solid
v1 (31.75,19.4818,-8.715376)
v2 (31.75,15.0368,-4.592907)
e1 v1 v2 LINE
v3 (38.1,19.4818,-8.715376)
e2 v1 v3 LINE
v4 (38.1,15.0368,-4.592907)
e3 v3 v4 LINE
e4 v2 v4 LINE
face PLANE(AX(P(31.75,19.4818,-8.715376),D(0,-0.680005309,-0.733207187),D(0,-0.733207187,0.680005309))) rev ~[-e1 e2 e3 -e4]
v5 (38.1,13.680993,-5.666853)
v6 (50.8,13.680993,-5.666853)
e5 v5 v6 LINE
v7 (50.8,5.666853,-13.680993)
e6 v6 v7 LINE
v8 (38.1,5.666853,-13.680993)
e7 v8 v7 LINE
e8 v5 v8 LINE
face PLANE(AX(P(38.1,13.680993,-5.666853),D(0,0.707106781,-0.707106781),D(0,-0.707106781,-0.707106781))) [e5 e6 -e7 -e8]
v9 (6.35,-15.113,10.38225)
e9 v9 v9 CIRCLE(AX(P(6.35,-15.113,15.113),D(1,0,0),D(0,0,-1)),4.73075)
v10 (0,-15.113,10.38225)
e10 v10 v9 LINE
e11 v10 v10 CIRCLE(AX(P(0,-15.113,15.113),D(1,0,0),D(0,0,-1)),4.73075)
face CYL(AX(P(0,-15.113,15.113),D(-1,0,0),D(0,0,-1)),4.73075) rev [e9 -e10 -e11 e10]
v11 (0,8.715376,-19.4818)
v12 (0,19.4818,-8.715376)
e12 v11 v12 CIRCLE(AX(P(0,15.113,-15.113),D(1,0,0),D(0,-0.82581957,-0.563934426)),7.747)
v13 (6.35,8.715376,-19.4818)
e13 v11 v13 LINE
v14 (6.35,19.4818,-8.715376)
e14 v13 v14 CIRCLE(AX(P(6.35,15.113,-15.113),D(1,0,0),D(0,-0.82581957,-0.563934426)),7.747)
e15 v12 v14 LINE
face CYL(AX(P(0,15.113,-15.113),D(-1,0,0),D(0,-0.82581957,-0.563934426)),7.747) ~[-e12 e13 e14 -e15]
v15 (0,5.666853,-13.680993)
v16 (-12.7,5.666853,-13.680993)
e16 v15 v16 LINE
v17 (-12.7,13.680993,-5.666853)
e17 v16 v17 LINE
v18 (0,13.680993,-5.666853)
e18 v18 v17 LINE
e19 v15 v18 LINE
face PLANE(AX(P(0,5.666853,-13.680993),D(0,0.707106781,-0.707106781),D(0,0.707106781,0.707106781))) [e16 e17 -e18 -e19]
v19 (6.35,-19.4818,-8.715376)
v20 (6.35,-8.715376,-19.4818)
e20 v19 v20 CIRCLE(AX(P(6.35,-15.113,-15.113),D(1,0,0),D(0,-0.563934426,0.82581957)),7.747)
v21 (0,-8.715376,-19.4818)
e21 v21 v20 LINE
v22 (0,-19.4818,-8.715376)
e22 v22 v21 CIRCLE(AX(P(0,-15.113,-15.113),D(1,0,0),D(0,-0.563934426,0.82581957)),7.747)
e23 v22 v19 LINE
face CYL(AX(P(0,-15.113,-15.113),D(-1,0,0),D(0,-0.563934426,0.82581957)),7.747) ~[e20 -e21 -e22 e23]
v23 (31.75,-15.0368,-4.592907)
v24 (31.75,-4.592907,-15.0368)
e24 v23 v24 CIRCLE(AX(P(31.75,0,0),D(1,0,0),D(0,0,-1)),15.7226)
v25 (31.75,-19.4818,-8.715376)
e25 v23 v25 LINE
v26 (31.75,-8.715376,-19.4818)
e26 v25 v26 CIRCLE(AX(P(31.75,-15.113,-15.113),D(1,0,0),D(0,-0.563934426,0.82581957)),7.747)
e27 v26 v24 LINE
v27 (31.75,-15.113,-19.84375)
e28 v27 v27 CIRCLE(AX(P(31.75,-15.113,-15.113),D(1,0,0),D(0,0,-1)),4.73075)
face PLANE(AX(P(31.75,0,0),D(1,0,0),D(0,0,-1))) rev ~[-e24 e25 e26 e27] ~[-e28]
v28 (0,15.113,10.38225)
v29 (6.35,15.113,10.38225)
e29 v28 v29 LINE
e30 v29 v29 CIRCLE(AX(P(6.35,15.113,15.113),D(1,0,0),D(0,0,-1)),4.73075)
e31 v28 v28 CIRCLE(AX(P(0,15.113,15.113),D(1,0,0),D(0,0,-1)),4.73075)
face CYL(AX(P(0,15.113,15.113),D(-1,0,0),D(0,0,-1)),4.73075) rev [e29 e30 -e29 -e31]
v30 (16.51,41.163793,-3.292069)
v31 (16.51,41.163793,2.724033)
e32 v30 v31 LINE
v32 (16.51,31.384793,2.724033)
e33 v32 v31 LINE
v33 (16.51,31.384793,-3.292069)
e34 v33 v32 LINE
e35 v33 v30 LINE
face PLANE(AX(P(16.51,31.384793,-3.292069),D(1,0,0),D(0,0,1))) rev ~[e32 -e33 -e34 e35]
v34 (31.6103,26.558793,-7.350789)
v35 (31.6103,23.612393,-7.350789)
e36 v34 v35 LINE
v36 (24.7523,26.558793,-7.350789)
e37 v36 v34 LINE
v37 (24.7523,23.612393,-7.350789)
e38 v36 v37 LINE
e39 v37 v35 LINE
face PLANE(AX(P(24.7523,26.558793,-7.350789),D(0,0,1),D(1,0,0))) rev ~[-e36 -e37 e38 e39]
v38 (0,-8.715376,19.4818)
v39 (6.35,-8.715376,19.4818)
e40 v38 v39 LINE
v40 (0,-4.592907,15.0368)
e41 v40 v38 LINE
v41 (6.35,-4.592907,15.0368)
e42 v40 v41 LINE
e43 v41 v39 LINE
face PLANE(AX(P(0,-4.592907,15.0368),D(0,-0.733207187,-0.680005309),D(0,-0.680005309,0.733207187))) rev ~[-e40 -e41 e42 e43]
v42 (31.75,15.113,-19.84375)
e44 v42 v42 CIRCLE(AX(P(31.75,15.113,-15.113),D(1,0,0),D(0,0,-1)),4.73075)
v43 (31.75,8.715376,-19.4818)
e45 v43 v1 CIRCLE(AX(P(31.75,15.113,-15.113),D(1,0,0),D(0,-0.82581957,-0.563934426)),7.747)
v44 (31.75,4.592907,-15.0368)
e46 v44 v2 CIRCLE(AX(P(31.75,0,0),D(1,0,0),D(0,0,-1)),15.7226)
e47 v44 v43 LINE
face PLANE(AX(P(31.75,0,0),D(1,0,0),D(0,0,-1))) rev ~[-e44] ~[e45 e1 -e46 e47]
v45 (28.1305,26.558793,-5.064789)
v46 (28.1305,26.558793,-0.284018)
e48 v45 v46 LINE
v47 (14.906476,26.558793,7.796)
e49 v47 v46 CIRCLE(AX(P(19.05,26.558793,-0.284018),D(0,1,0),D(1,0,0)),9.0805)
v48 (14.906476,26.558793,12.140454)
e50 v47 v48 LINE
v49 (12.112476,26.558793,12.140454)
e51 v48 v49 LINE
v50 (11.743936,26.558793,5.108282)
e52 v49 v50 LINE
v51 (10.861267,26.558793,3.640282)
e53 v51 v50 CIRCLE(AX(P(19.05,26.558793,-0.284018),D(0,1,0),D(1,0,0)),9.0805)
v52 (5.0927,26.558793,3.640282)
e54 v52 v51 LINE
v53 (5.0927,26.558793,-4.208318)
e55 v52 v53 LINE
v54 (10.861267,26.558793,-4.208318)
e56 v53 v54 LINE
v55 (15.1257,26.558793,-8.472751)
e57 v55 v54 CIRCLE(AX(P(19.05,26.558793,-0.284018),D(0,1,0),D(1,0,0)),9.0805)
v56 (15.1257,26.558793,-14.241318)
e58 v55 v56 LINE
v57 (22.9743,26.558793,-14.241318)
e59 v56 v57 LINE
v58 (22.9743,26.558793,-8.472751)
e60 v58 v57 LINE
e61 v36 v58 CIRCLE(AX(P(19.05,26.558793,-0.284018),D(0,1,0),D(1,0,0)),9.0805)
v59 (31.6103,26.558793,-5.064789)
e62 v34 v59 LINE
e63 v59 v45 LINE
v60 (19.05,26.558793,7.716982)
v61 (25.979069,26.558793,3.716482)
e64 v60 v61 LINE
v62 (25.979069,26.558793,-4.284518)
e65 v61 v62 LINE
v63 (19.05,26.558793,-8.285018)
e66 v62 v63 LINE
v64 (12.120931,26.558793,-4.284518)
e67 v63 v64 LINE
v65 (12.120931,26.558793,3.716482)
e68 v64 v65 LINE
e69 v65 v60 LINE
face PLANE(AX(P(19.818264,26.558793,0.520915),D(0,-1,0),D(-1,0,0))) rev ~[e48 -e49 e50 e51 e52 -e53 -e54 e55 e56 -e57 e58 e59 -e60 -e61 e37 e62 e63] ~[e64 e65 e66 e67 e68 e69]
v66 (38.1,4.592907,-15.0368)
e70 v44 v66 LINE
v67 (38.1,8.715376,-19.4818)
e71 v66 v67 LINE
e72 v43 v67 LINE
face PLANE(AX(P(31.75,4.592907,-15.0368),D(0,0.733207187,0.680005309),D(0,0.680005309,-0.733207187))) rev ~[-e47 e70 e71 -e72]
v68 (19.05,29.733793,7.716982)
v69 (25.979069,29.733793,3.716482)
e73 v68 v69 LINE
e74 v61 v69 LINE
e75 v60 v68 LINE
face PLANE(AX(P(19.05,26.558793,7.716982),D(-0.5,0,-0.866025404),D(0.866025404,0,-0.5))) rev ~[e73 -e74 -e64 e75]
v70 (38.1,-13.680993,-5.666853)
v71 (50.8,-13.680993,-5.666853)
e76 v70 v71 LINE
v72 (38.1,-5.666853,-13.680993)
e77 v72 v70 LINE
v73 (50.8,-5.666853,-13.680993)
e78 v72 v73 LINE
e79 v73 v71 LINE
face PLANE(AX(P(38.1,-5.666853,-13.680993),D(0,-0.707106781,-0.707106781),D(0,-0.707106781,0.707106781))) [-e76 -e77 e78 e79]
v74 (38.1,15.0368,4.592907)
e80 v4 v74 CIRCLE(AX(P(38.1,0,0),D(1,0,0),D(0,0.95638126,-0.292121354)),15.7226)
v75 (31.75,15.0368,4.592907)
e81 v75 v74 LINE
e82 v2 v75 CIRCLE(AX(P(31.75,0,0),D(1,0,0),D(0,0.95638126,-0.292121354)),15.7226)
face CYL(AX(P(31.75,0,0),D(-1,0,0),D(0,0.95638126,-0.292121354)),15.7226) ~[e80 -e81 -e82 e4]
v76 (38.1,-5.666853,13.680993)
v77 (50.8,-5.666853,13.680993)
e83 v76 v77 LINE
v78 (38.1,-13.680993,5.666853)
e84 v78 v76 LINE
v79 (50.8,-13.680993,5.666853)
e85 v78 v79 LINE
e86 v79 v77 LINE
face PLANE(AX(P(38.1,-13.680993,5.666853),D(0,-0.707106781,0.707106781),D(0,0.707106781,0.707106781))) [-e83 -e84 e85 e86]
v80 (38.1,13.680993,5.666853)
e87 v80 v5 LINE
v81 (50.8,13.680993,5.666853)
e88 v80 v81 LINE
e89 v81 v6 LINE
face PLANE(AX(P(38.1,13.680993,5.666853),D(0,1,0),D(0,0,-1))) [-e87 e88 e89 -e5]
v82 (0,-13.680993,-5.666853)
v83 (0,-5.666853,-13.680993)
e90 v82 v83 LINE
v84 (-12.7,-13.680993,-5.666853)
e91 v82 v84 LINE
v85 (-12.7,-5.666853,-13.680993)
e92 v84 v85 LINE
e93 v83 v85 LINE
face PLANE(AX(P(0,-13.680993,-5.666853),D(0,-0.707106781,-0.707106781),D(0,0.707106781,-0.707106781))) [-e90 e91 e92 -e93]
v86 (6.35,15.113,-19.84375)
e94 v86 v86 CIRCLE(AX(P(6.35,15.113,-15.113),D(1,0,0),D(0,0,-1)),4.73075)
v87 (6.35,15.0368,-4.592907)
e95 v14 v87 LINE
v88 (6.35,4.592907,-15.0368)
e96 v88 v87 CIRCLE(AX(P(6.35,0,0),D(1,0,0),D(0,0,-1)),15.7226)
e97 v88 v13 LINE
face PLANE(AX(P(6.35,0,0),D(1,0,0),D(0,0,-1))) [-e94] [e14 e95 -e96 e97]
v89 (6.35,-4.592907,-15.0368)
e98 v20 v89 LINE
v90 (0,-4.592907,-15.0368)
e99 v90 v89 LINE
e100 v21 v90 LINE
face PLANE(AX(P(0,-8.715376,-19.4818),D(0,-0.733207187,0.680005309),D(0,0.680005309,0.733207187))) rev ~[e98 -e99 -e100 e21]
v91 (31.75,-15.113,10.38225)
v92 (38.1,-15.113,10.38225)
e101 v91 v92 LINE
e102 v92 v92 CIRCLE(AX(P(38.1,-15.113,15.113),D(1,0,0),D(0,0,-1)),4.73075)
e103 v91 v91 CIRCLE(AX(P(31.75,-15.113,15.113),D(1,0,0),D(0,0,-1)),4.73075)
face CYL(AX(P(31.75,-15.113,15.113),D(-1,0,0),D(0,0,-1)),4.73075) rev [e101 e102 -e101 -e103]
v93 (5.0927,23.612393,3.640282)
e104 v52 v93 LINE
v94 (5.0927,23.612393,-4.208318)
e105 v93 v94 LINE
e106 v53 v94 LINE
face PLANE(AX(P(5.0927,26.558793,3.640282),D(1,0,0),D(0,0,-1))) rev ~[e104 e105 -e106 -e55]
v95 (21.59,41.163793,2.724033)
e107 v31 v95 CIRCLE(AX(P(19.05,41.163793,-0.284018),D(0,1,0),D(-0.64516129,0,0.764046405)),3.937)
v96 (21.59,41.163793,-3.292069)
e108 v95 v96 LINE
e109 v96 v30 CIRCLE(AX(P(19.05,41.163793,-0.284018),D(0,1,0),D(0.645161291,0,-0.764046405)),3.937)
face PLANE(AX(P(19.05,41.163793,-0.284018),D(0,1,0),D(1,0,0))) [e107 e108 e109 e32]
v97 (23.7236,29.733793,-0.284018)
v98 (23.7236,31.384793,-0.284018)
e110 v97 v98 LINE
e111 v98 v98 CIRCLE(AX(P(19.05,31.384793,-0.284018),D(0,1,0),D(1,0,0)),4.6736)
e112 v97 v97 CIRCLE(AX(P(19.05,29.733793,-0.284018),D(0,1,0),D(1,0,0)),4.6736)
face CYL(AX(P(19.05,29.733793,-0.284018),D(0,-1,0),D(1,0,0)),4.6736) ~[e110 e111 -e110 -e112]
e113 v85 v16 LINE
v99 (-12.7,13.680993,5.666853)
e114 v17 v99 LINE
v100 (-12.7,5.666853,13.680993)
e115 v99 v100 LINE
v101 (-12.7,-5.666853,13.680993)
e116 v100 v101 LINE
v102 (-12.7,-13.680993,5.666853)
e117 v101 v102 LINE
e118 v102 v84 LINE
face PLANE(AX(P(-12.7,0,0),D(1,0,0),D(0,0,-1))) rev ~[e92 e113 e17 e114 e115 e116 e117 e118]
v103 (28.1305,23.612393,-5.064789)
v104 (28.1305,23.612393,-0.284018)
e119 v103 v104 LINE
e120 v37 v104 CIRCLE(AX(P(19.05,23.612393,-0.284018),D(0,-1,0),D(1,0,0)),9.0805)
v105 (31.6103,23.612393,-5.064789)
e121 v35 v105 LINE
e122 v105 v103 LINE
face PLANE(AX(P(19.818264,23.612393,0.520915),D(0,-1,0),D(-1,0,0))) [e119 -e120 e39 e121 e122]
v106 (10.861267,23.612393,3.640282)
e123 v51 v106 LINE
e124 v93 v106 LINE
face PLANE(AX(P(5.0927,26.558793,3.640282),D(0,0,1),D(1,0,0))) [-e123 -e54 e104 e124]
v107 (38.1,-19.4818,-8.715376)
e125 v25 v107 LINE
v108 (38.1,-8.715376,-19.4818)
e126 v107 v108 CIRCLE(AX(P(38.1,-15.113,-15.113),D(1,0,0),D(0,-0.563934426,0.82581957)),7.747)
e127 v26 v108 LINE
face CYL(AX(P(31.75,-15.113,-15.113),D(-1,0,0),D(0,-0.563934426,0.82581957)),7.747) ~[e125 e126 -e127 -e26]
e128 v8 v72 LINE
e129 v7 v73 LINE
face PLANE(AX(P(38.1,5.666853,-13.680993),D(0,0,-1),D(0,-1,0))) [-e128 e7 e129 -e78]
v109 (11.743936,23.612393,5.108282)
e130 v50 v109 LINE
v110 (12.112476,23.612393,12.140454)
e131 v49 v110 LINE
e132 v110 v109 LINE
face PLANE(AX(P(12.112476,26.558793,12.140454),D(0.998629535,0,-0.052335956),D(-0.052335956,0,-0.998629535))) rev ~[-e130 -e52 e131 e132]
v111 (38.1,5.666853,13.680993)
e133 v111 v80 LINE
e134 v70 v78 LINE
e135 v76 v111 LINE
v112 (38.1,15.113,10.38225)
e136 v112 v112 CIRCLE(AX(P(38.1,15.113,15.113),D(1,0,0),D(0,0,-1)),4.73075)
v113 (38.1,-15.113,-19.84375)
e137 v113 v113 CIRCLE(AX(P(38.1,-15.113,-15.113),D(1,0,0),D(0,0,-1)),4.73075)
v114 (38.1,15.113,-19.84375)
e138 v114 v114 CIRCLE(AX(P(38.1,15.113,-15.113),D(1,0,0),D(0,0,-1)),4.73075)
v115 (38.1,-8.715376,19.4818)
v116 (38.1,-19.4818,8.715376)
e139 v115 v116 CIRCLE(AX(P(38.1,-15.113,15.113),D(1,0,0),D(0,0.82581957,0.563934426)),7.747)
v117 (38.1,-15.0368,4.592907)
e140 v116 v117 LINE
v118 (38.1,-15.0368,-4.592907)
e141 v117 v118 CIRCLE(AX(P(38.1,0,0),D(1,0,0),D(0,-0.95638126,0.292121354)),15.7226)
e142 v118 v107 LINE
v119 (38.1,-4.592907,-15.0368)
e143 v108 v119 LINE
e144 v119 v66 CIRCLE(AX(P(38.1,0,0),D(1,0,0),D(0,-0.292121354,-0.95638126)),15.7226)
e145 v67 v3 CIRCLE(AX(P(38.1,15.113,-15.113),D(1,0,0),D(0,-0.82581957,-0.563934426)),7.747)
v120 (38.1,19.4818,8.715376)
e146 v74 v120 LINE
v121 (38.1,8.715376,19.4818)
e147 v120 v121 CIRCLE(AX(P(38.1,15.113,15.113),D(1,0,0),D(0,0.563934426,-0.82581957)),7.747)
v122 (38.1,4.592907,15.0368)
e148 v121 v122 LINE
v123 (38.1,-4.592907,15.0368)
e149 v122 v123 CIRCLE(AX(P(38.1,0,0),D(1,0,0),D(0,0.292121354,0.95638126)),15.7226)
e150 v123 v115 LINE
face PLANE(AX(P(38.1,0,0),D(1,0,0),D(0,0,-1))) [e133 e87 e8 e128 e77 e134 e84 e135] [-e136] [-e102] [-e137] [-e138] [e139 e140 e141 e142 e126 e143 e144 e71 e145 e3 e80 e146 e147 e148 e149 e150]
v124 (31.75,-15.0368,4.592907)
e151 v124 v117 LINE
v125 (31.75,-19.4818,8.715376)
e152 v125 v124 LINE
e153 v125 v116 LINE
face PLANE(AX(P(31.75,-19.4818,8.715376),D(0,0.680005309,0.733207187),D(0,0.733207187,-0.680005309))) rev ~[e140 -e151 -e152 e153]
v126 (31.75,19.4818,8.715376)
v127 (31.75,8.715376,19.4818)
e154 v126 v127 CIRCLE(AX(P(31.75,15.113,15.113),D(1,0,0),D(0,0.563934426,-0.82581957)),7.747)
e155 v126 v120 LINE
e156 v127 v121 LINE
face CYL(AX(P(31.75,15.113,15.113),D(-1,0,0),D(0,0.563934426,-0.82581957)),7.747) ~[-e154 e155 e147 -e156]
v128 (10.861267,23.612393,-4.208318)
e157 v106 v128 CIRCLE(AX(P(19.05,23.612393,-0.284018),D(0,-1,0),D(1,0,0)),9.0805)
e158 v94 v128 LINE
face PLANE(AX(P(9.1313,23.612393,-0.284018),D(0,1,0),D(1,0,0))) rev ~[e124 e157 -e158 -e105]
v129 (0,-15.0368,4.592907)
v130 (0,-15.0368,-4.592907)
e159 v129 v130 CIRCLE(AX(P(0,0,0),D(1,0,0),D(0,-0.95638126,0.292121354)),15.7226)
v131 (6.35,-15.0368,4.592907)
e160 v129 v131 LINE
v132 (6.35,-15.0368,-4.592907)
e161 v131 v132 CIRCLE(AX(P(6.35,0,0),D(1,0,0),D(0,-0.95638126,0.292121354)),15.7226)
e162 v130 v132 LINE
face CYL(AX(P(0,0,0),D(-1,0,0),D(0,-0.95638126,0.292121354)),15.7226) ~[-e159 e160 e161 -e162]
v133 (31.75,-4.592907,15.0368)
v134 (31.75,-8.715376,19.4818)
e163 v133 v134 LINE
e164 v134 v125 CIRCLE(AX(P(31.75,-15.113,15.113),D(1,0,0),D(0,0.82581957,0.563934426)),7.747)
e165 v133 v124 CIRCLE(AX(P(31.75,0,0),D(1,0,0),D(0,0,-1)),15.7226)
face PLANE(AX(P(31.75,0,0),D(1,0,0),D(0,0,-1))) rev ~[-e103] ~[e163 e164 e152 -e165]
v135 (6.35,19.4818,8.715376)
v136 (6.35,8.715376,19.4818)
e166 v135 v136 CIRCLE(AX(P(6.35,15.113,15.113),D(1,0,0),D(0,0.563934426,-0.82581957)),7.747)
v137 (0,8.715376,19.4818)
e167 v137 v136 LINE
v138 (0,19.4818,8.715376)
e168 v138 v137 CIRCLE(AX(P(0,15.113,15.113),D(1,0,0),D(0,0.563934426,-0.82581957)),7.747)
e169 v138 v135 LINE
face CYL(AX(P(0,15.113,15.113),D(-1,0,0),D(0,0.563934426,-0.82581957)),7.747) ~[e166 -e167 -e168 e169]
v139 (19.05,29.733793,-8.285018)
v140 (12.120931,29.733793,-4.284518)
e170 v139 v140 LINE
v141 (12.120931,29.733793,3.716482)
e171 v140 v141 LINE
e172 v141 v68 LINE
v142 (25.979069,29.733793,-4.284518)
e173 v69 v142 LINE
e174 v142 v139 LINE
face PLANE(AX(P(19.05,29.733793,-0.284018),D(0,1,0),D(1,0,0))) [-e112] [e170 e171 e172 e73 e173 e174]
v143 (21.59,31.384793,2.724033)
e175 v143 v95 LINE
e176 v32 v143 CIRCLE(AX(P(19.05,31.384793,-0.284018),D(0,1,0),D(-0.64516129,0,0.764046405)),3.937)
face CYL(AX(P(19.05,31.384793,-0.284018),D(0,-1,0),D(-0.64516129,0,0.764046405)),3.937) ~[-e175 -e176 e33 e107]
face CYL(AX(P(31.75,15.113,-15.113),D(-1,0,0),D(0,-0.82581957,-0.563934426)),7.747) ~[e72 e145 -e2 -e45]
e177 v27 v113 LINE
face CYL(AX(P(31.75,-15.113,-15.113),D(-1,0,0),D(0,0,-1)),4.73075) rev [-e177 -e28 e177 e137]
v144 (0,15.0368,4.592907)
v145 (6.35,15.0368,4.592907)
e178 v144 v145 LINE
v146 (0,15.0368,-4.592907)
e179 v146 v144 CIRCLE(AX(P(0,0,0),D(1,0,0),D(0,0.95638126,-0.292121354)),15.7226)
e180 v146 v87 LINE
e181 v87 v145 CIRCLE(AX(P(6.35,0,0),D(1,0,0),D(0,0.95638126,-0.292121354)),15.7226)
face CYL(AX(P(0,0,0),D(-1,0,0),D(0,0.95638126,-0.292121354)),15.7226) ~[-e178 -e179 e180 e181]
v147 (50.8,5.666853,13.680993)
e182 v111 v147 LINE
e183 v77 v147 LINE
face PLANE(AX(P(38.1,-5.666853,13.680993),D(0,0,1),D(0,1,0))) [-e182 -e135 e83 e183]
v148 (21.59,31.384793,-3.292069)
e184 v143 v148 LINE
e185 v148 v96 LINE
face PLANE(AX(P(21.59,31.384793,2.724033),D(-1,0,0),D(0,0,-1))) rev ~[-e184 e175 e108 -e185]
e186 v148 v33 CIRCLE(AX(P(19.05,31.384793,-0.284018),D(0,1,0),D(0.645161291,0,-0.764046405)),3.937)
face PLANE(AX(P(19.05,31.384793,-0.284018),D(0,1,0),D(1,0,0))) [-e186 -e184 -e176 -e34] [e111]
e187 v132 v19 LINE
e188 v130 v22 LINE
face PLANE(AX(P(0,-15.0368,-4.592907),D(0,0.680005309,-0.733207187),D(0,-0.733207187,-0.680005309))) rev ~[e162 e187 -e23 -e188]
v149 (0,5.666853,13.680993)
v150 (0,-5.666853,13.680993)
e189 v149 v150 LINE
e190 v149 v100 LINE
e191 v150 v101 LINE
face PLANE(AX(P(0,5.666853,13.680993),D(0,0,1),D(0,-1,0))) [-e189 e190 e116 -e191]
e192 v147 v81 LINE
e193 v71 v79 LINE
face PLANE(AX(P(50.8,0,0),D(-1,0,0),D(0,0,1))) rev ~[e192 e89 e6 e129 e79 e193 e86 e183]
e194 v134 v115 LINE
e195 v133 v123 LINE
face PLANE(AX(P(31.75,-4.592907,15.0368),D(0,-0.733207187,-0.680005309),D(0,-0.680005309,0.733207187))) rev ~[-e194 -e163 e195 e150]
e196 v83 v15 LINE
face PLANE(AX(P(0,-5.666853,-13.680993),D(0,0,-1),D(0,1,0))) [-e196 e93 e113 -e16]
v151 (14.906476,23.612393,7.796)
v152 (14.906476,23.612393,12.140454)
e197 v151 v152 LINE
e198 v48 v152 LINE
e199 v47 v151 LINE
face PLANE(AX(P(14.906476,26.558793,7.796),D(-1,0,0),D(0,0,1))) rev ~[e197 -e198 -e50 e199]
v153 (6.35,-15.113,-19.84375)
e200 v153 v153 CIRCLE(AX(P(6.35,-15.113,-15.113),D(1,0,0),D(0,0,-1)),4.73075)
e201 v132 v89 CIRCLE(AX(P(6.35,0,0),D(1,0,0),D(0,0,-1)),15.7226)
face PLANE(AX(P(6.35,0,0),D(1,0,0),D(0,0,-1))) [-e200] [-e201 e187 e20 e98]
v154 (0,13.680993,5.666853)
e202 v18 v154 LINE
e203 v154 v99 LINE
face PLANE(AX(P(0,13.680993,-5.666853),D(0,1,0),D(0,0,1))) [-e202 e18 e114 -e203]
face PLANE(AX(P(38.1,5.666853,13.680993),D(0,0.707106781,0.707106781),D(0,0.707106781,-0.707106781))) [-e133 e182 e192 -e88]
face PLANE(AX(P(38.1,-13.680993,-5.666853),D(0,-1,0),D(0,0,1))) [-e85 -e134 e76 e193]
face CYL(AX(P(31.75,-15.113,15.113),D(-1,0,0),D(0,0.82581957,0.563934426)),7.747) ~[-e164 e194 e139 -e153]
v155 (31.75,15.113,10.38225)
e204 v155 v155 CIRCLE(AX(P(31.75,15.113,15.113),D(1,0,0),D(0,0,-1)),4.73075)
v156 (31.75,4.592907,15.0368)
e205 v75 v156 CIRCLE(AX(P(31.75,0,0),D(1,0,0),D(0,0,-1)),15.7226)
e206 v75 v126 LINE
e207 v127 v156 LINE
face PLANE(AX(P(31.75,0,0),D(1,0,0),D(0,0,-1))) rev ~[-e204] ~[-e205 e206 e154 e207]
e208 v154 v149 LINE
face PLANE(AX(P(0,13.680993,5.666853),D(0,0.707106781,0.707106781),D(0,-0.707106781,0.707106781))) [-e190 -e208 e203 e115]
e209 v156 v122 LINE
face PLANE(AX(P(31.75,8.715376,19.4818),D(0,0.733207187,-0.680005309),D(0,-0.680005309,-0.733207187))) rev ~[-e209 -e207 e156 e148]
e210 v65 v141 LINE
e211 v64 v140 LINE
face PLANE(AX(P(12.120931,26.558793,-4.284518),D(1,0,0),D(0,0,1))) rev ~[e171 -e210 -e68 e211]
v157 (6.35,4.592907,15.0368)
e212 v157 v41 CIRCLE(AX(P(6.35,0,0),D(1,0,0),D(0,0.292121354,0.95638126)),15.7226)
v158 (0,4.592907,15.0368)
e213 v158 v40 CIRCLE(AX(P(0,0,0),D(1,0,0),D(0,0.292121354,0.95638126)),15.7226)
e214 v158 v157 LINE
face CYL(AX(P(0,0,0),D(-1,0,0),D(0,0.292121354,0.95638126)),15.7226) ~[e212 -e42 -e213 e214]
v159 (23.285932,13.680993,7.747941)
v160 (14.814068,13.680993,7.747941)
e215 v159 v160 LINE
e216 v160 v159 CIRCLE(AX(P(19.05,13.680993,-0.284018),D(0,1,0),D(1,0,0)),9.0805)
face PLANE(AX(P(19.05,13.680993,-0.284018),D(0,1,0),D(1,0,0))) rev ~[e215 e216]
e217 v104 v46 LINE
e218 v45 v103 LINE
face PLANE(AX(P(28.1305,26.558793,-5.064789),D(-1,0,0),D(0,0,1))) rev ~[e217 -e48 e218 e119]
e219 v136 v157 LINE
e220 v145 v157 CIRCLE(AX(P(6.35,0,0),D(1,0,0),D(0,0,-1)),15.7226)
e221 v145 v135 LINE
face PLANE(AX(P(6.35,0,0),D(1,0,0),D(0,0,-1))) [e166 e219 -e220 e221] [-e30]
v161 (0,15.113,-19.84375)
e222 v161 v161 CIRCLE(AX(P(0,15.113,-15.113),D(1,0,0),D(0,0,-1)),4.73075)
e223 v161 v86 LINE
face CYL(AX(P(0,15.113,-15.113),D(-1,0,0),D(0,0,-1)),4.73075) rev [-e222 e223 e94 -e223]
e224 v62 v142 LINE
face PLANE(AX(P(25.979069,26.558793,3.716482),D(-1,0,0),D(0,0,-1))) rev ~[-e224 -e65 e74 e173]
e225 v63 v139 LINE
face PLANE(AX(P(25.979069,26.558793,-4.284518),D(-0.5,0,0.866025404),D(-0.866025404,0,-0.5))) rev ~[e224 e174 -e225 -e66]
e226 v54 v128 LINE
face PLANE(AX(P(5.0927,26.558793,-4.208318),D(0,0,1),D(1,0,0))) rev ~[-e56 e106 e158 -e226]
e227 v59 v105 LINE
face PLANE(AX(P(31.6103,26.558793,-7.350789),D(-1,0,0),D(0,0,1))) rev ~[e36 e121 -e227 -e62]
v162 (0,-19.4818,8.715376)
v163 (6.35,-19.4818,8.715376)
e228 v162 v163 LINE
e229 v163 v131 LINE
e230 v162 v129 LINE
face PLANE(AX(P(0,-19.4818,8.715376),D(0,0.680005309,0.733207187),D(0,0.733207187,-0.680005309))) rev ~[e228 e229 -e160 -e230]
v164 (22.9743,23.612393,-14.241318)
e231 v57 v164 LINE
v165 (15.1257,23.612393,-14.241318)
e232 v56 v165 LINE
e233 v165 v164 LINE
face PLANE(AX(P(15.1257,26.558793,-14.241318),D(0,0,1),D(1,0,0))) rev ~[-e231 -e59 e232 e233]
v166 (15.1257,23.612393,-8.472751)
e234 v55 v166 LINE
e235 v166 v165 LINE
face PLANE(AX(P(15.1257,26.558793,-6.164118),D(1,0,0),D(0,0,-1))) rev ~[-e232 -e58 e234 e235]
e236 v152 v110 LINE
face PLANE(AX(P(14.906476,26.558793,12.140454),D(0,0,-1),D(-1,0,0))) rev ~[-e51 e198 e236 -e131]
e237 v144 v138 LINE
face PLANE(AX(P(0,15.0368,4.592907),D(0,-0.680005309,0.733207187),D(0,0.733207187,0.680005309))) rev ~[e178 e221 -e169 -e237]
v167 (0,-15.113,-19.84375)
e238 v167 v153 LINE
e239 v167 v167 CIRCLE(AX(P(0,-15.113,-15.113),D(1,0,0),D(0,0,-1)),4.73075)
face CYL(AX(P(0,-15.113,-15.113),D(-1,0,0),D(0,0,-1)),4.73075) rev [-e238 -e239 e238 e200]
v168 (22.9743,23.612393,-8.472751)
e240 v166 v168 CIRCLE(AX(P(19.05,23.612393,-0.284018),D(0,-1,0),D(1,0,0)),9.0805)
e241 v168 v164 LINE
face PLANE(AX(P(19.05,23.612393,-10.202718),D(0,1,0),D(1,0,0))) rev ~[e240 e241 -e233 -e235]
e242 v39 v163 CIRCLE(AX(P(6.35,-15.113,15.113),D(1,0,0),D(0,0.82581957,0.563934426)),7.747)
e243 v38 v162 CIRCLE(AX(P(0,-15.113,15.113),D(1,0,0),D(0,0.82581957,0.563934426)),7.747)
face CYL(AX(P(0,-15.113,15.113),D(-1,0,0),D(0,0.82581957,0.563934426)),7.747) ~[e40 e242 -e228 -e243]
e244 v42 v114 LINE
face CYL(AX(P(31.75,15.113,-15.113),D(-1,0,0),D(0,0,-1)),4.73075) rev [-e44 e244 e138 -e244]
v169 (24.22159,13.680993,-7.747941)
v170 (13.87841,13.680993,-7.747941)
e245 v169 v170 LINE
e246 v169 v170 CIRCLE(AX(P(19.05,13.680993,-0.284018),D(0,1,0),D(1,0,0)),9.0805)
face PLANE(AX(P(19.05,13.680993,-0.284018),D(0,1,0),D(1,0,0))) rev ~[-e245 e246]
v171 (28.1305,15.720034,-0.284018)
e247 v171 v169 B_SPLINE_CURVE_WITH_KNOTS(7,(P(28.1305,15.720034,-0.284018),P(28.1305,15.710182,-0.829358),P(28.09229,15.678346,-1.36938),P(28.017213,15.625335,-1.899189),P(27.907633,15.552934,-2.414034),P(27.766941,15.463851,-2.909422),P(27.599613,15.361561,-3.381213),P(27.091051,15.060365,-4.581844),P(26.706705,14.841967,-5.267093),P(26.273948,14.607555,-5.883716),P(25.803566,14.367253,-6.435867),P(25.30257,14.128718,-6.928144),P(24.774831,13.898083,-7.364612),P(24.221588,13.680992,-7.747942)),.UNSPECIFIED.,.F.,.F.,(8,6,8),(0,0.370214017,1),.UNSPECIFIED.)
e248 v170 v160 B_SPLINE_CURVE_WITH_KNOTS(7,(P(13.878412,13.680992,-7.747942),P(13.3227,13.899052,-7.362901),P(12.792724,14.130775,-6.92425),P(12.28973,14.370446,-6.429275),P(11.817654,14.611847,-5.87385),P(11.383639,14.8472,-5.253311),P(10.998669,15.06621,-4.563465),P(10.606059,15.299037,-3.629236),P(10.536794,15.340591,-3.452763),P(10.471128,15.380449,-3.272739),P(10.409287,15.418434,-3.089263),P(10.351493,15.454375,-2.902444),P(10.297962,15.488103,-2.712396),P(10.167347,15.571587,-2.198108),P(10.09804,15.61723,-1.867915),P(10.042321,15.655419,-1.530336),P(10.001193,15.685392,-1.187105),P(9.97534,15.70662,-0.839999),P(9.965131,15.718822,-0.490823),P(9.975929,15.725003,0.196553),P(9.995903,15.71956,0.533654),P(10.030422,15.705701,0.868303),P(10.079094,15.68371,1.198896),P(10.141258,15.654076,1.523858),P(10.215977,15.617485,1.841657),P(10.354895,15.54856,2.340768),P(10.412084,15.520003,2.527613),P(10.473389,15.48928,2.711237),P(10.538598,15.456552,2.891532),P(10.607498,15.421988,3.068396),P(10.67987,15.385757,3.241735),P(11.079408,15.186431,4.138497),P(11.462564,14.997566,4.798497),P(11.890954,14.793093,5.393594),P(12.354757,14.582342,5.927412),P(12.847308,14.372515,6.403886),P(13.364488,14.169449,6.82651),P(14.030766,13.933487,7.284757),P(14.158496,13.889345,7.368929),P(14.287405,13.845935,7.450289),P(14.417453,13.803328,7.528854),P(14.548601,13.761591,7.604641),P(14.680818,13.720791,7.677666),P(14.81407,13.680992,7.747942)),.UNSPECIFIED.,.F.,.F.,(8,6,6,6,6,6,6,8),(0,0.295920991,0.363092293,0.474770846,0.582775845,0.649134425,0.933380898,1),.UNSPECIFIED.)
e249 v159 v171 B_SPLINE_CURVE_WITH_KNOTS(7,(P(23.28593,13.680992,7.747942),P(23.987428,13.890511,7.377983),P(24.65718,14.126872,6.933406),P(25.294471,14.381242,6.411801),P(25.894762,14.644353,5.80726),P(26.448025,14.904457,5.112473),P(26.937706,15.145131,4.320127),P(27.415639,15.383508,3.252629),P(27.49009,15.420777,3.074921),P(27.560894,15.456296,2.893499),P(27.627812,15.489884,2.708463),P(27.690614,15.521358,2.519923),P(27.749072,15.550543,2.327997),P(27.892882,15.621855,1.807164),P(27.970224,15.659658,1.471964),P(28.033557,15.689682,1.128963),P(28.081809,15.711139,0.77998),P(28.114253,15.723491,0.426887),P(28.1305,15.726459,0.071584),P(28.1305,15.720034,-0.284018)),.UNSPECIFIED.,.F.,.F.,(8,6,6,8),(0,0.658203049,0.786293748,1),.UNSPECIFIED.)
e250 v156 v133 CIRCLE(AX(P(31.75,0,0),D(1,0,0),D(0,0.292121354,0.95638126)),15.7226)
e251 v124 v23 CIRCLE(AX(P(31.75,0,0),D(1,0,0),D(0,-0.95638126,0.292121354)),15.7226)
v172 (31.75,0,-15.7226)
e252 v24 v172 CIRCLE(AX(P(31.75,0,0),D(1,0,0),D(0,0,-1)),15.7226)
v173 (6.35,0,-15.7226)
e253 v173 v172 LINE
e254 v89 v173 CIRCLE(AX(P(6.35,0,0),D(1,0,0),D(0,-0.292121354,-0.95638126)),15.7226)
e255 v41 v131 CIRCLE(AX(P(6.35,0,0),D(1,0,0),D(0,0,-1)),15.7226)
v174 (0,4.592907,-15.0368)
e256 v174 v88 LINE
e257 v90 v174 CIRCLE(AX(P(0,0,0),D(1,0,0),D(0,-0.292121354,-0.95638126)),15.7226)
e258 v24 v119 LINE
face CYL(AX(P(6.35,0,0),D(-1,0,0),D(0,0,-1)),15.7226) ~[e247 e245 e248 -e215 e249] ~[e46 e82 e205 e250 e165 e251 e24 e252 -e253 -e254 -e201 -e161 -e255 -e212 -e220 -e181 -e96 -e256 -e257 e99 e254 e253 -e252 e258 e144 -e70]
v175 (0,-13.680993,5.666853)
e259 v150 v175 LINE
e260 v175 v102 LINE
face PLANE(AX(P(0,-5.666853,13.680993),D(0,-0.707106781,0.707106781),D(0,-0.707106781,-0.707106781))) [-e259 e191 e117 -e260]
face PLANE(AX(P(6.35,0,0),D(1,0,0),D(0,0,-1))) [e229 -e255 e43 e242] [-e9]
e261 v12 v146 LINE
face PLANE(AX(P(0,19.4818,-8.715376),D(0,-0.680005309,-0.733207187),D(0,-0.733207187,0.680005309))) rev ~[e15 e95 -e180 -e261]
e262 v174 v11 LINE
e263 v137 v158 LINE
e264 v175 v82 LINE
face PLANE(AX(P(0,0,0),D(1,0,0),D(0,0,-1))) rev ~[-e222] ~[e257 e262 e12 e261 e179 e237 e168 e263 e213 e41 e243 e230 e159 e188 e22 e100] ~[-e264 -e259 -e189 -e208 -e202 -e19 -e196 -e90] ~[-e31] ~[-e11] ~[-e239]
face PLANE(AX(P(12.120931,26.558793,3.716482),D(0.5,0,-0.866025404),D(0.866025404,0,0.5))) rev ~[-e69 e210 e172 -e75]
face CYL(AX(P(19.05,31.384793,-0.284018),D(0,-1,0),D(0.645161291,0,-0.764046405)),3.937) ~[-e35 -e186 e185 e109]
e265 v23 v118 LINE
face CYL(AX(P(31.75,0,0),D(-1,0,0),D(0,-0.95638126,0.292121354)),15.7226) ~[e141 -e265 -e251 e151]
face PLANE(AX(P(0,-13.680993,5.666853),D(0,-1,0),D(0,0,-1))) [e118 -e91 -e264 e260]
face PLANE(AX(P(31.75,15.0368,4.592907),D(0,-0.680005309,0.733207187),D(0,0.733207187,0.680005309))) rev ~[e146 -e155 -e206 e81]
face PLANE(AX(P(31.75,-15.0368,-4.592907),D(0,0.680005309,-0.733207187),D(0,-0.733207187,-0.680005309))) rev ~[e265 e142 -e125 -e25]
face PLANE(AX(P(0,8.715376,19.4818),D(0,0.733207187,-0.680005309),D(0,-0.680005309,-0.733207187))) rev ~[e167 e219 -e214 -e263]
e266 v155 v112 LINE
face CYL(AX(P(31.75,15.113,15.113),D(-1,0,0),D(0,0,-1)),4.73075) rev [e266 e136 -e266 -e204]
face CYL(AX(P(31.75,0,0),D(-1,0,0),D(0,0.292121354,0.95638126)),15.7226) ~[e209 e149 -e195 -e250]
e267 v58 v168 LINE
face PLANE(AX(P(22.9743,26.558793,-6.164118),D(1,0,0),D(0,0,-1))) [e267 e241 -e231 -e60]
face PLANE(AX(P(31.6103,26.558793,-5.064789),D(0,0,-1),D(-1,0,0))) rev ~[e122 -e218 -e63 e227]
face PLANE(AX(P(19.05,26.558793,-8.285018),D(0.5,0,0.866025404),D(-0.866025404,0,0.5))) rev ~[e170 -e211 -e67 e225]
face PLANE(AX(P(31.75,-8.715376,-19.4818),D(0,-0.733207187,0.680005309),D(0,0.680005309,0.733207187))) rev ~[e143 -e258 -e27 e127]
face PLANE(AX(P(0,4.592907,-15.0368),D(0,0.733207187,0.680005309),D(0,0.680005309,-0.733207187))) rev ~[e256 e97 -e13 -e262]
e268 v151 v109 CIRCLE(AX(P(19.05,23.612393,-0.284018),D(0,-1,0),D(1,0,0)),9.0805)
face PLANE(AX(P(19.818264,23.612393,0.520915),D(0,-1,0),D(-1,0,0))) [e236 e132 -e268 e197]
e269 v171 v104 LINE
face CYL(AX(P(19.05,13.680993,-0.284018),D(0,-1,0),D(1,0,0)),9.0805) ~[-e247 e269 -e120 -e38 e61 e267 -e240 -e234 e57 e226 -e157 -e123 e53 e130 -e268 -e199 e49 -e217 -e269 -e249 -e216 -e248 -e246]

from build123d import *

# Parameters (mm, degrees)
SKETCH1_R            = 4.73075
BOSS_EXTRUDE2_DEPTH  = 6.35
BOSS_EXTRUDE3_DEPTH  = 12.7
SKETCH3_R            = 15.7226
BOSS_EXTRUDE4_DEPTH  = 25.4
SKETCH4_R            = 4.73075
BOSS_EXTRUDE5_DEPTH  = 6.35
BOSS_EXTRUDE6_DEPTH  = 12.7
SKETCH6_R            = 9.0805
BOSS_EXTRUDE8_DEPTH  = 12.8778
SKETCH8_W            = 7.8486
SKETCH8_H            = 8.0772
SKETCH8_W_2          = 8.0772
SKETCH8_H_2          = 7.8486
BOSS_EXTRUDE9_DEPTH  = 2.9464
BOSS_EXTRUDE10_DEPTH = 2.9464
BOSS_EXTRUDE11_DEPTH = 3.175
SKETCH12_R           = 4.6736
BOSS_EXTRUDE12_DEPTH = 1.651
BOSS_EXTRUDE13_DEPTH = 9.779


with BuildPart() as part:
    # Sketch1 → Boss-Extrude2 (new body)
    with BuildSketch(Plane(origin=(0, 0, 0), x_dir=(0, 0, -1), z_dir=(1, 0, 0))):
        with BuildLine():
            Line((-19.4818, 8.715375788), (-15.0368, 4.592907197))
            ThreePointArc((-15.0368, 4.592907197), (-15.7226, 0), (-15.0368, -4.592907197))
            Line((-15.0368, -4.592907197), (-19.4818, -8.715375788))
            ThreePointArc((-19.4818, -8.715375788), (-20.590956234, -20.590956234), (-8.715375788, -19.4818))
            Line((-8.715375788, -19.4818), (-4.592907197, -15.0368))
            ThreePointArc((-4.592907197, -15.0368), (0, -15.7226), (4.592907197, -15.0368))
            Line((4.592907197, -15.0368), (8.715375788, -19.4818))
            ThreePointArc((8.715375788, -19.4818), (20.590956234, -20.590956234), (19.4818, -8.715375788))
            Line((19.4818, -8.715375788), (15.0368, -4.592907197))
            ThreePointArc((15.0368, -4.592907197), (15.7226, 0), (15.0368, 4.592907197))
            Line((15.0368, 4.592907197), (19.4818, 8.715375788))
            ThreePointArc((19.4818, 8.715375788), (20.590956234, 20.590956234), (8.715375788, 19.4818))
            Line((8.715375788, 19.4818), (4.592907197, 15.0368))
            ThreePointArc((4.592907197, 15.0368), (0, 15.7226), (-4.592907197, 15.0368))
            Line((-4.592907197, 15.0368), (-8.715375788, 19.4818))
            ThreePointArc((-8.715375788, 19.4818), (-20.590956234, 20.590956234), (-19.4818, 8.715375788))
        make_face()
        with Locations((-15.113, 15.113)):
            Circle(SKETCH1_R, mode=Mode.SUBTRACT)
        with Locations((15.113, 15.113)):
            Circle(SKETCH1_R, mode=Mode.SUBTRACT)
        with Locations((15.113, -15.113)):
            Circle(SKETCH1_R, mode=Mode.SUBTRACT)
        with Locations((-15.113, -15.113)):
            Circle(SKETCH1_R, mode=Mode.SUBTRACT)
    extrude(amount=BOSS_EXTRUDE2_DEPTH)

    # Sketch2 → Boss-Extrude3 (add)
    with BuildSketch(Plane.ZY):
        Polygon((13.680992893, 5.666852803), (13.680992893, -5.666852803), (5.666852803, -13.680992893), (-5.666852803, -13.680992893), (-13.680992893, -5.666852803), (-13.680992893, 5.666852803), (-5.666852803, 13.680992893), (5.666852803, 13.680992893), align=None)
    extrude(amount=BOSS_EXTRUDE3_DEPTH)

    # Sketch3 → Boss-Extrude4 (add)
    with BuildSketch(Plane(origin=(6.35, 0, 0), x_dir=(0, 0, -1), z_dir=(1, 0, 0))):
        Circle(SKETCH3_R)
    extrude(amount=BOSS_EXTRUDE4_DEPTH)

    # Sketch4 → Boss-Extrude5 (add)
    with BuildSketch(Plane(origin=(31.75, 0, 0), x_dir=(0, 0, -1), z_dir=(1, 0, 0))):
        with BuildLine():
            Line((-19.4818, 8.715375788), (-15.0368, 4.592907197))
            ThreePointArc((-15.0368, 4.592907197), (-15.7226, 0), (-15.0368, -4.592907197))
            Line((-15.0368, -4.592907197), (-19.4818, -8.715375788))
            ThreePointArc((-19.4818, -8.715375788), (-20.590956234, -20.590956234), (-8.715375788, -19.4818))
            Line((-8.715375788, -19.4818), (-4.592907197, -15.0368))
            ThreePointArc((-4.592907197, -15.0368), (0, -15.7226), (4.592907197, -15.0368))
            Line((4.592907197, -15.0368), (8.715375788, -19.4818))
            ThreePointArc((8.715375788, -19.4818), (20.590956234, -20.590956234), (19.4818, -8.715375788))
            Line((19.4818, -8.715375788), (15.0368, -4.592907197))
            ThreePointArc((15.0368, -4.592907197), (15.7226, 0), (15.0368, 4.592907197))
            Line((15.0368, 4.592907197), (19.4818, 8.715375788))
            ThreePointArc((19.4818, 8.715375788), (20.590956234, 20.590956234), (8.715375788, 19.4818))
            Line((8.715375788, 19.4818), (4.592907197, 15.0368))
            ThreePointArc((4.592907197, 15.0368), (0, 15.7226), (-4.592907197, 15.0368))
            Line((-4.592907197, 15.0368), (-8.715375788, 19.4818))
            ThreePointArc((-8.715375788, 19.4818), (-20.590956234, 20.590956234), (-19.4818, 8.715375788))
        make_face()
        with Locations((-15.113, 15.113)):
            Circle(SKETCH4_R, mode=Mode.SUBTRACT)
        with Locations((15.113, 15.113)):
            Circle(SKETCH4_R, mode=Mode.SUBTRACT)
        with Locations((15.113, -15.113)):
            Circle(SKETCH4_R, mode=Mode.SUBTRACT)
        with Locations((-15.113, -15.113)):
            Circle(SKETCH4_R, mode=Mode.SUBTRACT)
    extrude(amount=BOSS_EXTRUDE5_DEPTH)

    # Sketch5 → Boss-Extrude6 (add)
    with BuildSketch(Plane(origin=(38.1, 0, 0), x_dir=(0, 0, -1), z_dir=(1, 0, 0))):
        Polygon((13.680992893, 5.666852803), (13.680992893, -5.666852803), (5.666852803, -13.680992893), (-5.666852803, -13.680992893), (-13.680992893, -5.666852803), (-13.680992893, 5.666852803), (-5.666852803, 13.680992893), (5.666852803, 13.680992893), align=None)
    extrude(amount=BOSS_EXTRUDE6_DEPTH)

    # Sketch6 → Boss-Extrude8 (add)
    with BuildSketch(Plane(origin=(0, 13.680992893, 0), x_dir=(1, 0, 0), z_dir=(0, 1, 0))):
        with Locations((19.05, 0.284018035)):
            Circle(SKETCH6_R)
    extrude(amount=BOSS_EXTRUDE8_DEPTH)

    # Sketch8 → Boss-Extrude9 (add)
    with BuildSketch(Plane(origin=(0, 26.558792893, 0), x_dir=(1, 0, 0), z_dir=(0, 1, 0))):
        with Locations((19.05, 10.202718035)):
            Rectangle(SKETCH8_W, SKETCH8_H)
        with Locations((9.1313, 0.284018035)):
            Rectangle(SKETCH8_W_2, SKETCH8_H_2)
    extrude(amount=-BOSS_EXTRUDE9_DEPTH)

    # Sketch10 → Boss-Extrude10 (add)
    with BuildSketch(Plane(origin=(0, 26.558792893, 0), x_dir=(1, 0, 0), z_dir=(0, 1, 0))):
        with BuildLine():
            Line((24.7523, 7.350789218), (31.6103, 7.350789218))
            Line((31.6103, 7.350789218), (31.6103, 5.064789218))
            Line((31.6103, 5.064789218), (28.1305, 5.064789218))
            Line((28.1305, 5.064789218), (28.1305, 0.284018035))
            ThreePointArc((28.1305, 0.284018035), (23.784459378, -7.464554392), (14.90647607, -7.795999892))
            Line((14.90647607, -7.795999892), (14.90647607, -12.140453608))
            Line((14.90647607, -12.140453608), (12.11247607, -12.140453608))
            Line((12.11247607, -12.140453608), (11.743935589, -5.108282316))
            ThreePointArc((11.743935589, -5.108282316), (12.769066077, 6.841864427), (24.7523, 7.350789218))
        make_face()
    extrude(amount=-BOSS_EXTRUDE10_DEPTH)

    # Sketch11 → Boss-Extrude11 (add)
    with BuildSketch(Plane(origin=(0, 26.558792893, 0), x_dir=(1, 0, 0), z_dir=(0, 1, 0))):
        Polygon((19.05, 8.285018035), (12.120930744, 4.284518035), (12.120930744, -3.716481965), (19.05, -7.716981965), (25.979069256, -3.716481965), (25.979069256, 4.284518035), align=None)
    extrude(amount=BOSS_EXTRUDE11_DEPTH)

    # Sketch12 → Boss-Extrude12 (add)
    with BuildSketch(Plane(origin=(0, 29.733792893, 0), x_dir=(1, 0, 0), z_dir=(0, 1, 0))):
        with Locations((19.05, 0.284018035)):
            Circle(SKETCH12_R)
    extrude(amount=BOSS_EXTRUDE12_DEPTH)

    # Sketch13 → Boss-Extrude13 (add)
    with BuildSketch(Plane(origin=(0, 31.384792893, 0), x_dir=(1, 0, 0), z_dir=(0, 1, 0))):
        with BuildLine():
            Line((16.51, 3.292068732), (16.51, -2.724032663))
            ThreePointArc((16.51, -2.724032663), (19.05, -3.652981965), (21.59, -2.724032663))
            Line((21.59, -2.724032663), (21.59, 3.292068732))
            ThreePointArc((21.59, 3.292068732), (19.05, 4.221018035), (16.51, 3.292068732))
        make_face()
    extrude(amount=BOSS_EXTRUDE13_DEPTH)


solid = part.part
